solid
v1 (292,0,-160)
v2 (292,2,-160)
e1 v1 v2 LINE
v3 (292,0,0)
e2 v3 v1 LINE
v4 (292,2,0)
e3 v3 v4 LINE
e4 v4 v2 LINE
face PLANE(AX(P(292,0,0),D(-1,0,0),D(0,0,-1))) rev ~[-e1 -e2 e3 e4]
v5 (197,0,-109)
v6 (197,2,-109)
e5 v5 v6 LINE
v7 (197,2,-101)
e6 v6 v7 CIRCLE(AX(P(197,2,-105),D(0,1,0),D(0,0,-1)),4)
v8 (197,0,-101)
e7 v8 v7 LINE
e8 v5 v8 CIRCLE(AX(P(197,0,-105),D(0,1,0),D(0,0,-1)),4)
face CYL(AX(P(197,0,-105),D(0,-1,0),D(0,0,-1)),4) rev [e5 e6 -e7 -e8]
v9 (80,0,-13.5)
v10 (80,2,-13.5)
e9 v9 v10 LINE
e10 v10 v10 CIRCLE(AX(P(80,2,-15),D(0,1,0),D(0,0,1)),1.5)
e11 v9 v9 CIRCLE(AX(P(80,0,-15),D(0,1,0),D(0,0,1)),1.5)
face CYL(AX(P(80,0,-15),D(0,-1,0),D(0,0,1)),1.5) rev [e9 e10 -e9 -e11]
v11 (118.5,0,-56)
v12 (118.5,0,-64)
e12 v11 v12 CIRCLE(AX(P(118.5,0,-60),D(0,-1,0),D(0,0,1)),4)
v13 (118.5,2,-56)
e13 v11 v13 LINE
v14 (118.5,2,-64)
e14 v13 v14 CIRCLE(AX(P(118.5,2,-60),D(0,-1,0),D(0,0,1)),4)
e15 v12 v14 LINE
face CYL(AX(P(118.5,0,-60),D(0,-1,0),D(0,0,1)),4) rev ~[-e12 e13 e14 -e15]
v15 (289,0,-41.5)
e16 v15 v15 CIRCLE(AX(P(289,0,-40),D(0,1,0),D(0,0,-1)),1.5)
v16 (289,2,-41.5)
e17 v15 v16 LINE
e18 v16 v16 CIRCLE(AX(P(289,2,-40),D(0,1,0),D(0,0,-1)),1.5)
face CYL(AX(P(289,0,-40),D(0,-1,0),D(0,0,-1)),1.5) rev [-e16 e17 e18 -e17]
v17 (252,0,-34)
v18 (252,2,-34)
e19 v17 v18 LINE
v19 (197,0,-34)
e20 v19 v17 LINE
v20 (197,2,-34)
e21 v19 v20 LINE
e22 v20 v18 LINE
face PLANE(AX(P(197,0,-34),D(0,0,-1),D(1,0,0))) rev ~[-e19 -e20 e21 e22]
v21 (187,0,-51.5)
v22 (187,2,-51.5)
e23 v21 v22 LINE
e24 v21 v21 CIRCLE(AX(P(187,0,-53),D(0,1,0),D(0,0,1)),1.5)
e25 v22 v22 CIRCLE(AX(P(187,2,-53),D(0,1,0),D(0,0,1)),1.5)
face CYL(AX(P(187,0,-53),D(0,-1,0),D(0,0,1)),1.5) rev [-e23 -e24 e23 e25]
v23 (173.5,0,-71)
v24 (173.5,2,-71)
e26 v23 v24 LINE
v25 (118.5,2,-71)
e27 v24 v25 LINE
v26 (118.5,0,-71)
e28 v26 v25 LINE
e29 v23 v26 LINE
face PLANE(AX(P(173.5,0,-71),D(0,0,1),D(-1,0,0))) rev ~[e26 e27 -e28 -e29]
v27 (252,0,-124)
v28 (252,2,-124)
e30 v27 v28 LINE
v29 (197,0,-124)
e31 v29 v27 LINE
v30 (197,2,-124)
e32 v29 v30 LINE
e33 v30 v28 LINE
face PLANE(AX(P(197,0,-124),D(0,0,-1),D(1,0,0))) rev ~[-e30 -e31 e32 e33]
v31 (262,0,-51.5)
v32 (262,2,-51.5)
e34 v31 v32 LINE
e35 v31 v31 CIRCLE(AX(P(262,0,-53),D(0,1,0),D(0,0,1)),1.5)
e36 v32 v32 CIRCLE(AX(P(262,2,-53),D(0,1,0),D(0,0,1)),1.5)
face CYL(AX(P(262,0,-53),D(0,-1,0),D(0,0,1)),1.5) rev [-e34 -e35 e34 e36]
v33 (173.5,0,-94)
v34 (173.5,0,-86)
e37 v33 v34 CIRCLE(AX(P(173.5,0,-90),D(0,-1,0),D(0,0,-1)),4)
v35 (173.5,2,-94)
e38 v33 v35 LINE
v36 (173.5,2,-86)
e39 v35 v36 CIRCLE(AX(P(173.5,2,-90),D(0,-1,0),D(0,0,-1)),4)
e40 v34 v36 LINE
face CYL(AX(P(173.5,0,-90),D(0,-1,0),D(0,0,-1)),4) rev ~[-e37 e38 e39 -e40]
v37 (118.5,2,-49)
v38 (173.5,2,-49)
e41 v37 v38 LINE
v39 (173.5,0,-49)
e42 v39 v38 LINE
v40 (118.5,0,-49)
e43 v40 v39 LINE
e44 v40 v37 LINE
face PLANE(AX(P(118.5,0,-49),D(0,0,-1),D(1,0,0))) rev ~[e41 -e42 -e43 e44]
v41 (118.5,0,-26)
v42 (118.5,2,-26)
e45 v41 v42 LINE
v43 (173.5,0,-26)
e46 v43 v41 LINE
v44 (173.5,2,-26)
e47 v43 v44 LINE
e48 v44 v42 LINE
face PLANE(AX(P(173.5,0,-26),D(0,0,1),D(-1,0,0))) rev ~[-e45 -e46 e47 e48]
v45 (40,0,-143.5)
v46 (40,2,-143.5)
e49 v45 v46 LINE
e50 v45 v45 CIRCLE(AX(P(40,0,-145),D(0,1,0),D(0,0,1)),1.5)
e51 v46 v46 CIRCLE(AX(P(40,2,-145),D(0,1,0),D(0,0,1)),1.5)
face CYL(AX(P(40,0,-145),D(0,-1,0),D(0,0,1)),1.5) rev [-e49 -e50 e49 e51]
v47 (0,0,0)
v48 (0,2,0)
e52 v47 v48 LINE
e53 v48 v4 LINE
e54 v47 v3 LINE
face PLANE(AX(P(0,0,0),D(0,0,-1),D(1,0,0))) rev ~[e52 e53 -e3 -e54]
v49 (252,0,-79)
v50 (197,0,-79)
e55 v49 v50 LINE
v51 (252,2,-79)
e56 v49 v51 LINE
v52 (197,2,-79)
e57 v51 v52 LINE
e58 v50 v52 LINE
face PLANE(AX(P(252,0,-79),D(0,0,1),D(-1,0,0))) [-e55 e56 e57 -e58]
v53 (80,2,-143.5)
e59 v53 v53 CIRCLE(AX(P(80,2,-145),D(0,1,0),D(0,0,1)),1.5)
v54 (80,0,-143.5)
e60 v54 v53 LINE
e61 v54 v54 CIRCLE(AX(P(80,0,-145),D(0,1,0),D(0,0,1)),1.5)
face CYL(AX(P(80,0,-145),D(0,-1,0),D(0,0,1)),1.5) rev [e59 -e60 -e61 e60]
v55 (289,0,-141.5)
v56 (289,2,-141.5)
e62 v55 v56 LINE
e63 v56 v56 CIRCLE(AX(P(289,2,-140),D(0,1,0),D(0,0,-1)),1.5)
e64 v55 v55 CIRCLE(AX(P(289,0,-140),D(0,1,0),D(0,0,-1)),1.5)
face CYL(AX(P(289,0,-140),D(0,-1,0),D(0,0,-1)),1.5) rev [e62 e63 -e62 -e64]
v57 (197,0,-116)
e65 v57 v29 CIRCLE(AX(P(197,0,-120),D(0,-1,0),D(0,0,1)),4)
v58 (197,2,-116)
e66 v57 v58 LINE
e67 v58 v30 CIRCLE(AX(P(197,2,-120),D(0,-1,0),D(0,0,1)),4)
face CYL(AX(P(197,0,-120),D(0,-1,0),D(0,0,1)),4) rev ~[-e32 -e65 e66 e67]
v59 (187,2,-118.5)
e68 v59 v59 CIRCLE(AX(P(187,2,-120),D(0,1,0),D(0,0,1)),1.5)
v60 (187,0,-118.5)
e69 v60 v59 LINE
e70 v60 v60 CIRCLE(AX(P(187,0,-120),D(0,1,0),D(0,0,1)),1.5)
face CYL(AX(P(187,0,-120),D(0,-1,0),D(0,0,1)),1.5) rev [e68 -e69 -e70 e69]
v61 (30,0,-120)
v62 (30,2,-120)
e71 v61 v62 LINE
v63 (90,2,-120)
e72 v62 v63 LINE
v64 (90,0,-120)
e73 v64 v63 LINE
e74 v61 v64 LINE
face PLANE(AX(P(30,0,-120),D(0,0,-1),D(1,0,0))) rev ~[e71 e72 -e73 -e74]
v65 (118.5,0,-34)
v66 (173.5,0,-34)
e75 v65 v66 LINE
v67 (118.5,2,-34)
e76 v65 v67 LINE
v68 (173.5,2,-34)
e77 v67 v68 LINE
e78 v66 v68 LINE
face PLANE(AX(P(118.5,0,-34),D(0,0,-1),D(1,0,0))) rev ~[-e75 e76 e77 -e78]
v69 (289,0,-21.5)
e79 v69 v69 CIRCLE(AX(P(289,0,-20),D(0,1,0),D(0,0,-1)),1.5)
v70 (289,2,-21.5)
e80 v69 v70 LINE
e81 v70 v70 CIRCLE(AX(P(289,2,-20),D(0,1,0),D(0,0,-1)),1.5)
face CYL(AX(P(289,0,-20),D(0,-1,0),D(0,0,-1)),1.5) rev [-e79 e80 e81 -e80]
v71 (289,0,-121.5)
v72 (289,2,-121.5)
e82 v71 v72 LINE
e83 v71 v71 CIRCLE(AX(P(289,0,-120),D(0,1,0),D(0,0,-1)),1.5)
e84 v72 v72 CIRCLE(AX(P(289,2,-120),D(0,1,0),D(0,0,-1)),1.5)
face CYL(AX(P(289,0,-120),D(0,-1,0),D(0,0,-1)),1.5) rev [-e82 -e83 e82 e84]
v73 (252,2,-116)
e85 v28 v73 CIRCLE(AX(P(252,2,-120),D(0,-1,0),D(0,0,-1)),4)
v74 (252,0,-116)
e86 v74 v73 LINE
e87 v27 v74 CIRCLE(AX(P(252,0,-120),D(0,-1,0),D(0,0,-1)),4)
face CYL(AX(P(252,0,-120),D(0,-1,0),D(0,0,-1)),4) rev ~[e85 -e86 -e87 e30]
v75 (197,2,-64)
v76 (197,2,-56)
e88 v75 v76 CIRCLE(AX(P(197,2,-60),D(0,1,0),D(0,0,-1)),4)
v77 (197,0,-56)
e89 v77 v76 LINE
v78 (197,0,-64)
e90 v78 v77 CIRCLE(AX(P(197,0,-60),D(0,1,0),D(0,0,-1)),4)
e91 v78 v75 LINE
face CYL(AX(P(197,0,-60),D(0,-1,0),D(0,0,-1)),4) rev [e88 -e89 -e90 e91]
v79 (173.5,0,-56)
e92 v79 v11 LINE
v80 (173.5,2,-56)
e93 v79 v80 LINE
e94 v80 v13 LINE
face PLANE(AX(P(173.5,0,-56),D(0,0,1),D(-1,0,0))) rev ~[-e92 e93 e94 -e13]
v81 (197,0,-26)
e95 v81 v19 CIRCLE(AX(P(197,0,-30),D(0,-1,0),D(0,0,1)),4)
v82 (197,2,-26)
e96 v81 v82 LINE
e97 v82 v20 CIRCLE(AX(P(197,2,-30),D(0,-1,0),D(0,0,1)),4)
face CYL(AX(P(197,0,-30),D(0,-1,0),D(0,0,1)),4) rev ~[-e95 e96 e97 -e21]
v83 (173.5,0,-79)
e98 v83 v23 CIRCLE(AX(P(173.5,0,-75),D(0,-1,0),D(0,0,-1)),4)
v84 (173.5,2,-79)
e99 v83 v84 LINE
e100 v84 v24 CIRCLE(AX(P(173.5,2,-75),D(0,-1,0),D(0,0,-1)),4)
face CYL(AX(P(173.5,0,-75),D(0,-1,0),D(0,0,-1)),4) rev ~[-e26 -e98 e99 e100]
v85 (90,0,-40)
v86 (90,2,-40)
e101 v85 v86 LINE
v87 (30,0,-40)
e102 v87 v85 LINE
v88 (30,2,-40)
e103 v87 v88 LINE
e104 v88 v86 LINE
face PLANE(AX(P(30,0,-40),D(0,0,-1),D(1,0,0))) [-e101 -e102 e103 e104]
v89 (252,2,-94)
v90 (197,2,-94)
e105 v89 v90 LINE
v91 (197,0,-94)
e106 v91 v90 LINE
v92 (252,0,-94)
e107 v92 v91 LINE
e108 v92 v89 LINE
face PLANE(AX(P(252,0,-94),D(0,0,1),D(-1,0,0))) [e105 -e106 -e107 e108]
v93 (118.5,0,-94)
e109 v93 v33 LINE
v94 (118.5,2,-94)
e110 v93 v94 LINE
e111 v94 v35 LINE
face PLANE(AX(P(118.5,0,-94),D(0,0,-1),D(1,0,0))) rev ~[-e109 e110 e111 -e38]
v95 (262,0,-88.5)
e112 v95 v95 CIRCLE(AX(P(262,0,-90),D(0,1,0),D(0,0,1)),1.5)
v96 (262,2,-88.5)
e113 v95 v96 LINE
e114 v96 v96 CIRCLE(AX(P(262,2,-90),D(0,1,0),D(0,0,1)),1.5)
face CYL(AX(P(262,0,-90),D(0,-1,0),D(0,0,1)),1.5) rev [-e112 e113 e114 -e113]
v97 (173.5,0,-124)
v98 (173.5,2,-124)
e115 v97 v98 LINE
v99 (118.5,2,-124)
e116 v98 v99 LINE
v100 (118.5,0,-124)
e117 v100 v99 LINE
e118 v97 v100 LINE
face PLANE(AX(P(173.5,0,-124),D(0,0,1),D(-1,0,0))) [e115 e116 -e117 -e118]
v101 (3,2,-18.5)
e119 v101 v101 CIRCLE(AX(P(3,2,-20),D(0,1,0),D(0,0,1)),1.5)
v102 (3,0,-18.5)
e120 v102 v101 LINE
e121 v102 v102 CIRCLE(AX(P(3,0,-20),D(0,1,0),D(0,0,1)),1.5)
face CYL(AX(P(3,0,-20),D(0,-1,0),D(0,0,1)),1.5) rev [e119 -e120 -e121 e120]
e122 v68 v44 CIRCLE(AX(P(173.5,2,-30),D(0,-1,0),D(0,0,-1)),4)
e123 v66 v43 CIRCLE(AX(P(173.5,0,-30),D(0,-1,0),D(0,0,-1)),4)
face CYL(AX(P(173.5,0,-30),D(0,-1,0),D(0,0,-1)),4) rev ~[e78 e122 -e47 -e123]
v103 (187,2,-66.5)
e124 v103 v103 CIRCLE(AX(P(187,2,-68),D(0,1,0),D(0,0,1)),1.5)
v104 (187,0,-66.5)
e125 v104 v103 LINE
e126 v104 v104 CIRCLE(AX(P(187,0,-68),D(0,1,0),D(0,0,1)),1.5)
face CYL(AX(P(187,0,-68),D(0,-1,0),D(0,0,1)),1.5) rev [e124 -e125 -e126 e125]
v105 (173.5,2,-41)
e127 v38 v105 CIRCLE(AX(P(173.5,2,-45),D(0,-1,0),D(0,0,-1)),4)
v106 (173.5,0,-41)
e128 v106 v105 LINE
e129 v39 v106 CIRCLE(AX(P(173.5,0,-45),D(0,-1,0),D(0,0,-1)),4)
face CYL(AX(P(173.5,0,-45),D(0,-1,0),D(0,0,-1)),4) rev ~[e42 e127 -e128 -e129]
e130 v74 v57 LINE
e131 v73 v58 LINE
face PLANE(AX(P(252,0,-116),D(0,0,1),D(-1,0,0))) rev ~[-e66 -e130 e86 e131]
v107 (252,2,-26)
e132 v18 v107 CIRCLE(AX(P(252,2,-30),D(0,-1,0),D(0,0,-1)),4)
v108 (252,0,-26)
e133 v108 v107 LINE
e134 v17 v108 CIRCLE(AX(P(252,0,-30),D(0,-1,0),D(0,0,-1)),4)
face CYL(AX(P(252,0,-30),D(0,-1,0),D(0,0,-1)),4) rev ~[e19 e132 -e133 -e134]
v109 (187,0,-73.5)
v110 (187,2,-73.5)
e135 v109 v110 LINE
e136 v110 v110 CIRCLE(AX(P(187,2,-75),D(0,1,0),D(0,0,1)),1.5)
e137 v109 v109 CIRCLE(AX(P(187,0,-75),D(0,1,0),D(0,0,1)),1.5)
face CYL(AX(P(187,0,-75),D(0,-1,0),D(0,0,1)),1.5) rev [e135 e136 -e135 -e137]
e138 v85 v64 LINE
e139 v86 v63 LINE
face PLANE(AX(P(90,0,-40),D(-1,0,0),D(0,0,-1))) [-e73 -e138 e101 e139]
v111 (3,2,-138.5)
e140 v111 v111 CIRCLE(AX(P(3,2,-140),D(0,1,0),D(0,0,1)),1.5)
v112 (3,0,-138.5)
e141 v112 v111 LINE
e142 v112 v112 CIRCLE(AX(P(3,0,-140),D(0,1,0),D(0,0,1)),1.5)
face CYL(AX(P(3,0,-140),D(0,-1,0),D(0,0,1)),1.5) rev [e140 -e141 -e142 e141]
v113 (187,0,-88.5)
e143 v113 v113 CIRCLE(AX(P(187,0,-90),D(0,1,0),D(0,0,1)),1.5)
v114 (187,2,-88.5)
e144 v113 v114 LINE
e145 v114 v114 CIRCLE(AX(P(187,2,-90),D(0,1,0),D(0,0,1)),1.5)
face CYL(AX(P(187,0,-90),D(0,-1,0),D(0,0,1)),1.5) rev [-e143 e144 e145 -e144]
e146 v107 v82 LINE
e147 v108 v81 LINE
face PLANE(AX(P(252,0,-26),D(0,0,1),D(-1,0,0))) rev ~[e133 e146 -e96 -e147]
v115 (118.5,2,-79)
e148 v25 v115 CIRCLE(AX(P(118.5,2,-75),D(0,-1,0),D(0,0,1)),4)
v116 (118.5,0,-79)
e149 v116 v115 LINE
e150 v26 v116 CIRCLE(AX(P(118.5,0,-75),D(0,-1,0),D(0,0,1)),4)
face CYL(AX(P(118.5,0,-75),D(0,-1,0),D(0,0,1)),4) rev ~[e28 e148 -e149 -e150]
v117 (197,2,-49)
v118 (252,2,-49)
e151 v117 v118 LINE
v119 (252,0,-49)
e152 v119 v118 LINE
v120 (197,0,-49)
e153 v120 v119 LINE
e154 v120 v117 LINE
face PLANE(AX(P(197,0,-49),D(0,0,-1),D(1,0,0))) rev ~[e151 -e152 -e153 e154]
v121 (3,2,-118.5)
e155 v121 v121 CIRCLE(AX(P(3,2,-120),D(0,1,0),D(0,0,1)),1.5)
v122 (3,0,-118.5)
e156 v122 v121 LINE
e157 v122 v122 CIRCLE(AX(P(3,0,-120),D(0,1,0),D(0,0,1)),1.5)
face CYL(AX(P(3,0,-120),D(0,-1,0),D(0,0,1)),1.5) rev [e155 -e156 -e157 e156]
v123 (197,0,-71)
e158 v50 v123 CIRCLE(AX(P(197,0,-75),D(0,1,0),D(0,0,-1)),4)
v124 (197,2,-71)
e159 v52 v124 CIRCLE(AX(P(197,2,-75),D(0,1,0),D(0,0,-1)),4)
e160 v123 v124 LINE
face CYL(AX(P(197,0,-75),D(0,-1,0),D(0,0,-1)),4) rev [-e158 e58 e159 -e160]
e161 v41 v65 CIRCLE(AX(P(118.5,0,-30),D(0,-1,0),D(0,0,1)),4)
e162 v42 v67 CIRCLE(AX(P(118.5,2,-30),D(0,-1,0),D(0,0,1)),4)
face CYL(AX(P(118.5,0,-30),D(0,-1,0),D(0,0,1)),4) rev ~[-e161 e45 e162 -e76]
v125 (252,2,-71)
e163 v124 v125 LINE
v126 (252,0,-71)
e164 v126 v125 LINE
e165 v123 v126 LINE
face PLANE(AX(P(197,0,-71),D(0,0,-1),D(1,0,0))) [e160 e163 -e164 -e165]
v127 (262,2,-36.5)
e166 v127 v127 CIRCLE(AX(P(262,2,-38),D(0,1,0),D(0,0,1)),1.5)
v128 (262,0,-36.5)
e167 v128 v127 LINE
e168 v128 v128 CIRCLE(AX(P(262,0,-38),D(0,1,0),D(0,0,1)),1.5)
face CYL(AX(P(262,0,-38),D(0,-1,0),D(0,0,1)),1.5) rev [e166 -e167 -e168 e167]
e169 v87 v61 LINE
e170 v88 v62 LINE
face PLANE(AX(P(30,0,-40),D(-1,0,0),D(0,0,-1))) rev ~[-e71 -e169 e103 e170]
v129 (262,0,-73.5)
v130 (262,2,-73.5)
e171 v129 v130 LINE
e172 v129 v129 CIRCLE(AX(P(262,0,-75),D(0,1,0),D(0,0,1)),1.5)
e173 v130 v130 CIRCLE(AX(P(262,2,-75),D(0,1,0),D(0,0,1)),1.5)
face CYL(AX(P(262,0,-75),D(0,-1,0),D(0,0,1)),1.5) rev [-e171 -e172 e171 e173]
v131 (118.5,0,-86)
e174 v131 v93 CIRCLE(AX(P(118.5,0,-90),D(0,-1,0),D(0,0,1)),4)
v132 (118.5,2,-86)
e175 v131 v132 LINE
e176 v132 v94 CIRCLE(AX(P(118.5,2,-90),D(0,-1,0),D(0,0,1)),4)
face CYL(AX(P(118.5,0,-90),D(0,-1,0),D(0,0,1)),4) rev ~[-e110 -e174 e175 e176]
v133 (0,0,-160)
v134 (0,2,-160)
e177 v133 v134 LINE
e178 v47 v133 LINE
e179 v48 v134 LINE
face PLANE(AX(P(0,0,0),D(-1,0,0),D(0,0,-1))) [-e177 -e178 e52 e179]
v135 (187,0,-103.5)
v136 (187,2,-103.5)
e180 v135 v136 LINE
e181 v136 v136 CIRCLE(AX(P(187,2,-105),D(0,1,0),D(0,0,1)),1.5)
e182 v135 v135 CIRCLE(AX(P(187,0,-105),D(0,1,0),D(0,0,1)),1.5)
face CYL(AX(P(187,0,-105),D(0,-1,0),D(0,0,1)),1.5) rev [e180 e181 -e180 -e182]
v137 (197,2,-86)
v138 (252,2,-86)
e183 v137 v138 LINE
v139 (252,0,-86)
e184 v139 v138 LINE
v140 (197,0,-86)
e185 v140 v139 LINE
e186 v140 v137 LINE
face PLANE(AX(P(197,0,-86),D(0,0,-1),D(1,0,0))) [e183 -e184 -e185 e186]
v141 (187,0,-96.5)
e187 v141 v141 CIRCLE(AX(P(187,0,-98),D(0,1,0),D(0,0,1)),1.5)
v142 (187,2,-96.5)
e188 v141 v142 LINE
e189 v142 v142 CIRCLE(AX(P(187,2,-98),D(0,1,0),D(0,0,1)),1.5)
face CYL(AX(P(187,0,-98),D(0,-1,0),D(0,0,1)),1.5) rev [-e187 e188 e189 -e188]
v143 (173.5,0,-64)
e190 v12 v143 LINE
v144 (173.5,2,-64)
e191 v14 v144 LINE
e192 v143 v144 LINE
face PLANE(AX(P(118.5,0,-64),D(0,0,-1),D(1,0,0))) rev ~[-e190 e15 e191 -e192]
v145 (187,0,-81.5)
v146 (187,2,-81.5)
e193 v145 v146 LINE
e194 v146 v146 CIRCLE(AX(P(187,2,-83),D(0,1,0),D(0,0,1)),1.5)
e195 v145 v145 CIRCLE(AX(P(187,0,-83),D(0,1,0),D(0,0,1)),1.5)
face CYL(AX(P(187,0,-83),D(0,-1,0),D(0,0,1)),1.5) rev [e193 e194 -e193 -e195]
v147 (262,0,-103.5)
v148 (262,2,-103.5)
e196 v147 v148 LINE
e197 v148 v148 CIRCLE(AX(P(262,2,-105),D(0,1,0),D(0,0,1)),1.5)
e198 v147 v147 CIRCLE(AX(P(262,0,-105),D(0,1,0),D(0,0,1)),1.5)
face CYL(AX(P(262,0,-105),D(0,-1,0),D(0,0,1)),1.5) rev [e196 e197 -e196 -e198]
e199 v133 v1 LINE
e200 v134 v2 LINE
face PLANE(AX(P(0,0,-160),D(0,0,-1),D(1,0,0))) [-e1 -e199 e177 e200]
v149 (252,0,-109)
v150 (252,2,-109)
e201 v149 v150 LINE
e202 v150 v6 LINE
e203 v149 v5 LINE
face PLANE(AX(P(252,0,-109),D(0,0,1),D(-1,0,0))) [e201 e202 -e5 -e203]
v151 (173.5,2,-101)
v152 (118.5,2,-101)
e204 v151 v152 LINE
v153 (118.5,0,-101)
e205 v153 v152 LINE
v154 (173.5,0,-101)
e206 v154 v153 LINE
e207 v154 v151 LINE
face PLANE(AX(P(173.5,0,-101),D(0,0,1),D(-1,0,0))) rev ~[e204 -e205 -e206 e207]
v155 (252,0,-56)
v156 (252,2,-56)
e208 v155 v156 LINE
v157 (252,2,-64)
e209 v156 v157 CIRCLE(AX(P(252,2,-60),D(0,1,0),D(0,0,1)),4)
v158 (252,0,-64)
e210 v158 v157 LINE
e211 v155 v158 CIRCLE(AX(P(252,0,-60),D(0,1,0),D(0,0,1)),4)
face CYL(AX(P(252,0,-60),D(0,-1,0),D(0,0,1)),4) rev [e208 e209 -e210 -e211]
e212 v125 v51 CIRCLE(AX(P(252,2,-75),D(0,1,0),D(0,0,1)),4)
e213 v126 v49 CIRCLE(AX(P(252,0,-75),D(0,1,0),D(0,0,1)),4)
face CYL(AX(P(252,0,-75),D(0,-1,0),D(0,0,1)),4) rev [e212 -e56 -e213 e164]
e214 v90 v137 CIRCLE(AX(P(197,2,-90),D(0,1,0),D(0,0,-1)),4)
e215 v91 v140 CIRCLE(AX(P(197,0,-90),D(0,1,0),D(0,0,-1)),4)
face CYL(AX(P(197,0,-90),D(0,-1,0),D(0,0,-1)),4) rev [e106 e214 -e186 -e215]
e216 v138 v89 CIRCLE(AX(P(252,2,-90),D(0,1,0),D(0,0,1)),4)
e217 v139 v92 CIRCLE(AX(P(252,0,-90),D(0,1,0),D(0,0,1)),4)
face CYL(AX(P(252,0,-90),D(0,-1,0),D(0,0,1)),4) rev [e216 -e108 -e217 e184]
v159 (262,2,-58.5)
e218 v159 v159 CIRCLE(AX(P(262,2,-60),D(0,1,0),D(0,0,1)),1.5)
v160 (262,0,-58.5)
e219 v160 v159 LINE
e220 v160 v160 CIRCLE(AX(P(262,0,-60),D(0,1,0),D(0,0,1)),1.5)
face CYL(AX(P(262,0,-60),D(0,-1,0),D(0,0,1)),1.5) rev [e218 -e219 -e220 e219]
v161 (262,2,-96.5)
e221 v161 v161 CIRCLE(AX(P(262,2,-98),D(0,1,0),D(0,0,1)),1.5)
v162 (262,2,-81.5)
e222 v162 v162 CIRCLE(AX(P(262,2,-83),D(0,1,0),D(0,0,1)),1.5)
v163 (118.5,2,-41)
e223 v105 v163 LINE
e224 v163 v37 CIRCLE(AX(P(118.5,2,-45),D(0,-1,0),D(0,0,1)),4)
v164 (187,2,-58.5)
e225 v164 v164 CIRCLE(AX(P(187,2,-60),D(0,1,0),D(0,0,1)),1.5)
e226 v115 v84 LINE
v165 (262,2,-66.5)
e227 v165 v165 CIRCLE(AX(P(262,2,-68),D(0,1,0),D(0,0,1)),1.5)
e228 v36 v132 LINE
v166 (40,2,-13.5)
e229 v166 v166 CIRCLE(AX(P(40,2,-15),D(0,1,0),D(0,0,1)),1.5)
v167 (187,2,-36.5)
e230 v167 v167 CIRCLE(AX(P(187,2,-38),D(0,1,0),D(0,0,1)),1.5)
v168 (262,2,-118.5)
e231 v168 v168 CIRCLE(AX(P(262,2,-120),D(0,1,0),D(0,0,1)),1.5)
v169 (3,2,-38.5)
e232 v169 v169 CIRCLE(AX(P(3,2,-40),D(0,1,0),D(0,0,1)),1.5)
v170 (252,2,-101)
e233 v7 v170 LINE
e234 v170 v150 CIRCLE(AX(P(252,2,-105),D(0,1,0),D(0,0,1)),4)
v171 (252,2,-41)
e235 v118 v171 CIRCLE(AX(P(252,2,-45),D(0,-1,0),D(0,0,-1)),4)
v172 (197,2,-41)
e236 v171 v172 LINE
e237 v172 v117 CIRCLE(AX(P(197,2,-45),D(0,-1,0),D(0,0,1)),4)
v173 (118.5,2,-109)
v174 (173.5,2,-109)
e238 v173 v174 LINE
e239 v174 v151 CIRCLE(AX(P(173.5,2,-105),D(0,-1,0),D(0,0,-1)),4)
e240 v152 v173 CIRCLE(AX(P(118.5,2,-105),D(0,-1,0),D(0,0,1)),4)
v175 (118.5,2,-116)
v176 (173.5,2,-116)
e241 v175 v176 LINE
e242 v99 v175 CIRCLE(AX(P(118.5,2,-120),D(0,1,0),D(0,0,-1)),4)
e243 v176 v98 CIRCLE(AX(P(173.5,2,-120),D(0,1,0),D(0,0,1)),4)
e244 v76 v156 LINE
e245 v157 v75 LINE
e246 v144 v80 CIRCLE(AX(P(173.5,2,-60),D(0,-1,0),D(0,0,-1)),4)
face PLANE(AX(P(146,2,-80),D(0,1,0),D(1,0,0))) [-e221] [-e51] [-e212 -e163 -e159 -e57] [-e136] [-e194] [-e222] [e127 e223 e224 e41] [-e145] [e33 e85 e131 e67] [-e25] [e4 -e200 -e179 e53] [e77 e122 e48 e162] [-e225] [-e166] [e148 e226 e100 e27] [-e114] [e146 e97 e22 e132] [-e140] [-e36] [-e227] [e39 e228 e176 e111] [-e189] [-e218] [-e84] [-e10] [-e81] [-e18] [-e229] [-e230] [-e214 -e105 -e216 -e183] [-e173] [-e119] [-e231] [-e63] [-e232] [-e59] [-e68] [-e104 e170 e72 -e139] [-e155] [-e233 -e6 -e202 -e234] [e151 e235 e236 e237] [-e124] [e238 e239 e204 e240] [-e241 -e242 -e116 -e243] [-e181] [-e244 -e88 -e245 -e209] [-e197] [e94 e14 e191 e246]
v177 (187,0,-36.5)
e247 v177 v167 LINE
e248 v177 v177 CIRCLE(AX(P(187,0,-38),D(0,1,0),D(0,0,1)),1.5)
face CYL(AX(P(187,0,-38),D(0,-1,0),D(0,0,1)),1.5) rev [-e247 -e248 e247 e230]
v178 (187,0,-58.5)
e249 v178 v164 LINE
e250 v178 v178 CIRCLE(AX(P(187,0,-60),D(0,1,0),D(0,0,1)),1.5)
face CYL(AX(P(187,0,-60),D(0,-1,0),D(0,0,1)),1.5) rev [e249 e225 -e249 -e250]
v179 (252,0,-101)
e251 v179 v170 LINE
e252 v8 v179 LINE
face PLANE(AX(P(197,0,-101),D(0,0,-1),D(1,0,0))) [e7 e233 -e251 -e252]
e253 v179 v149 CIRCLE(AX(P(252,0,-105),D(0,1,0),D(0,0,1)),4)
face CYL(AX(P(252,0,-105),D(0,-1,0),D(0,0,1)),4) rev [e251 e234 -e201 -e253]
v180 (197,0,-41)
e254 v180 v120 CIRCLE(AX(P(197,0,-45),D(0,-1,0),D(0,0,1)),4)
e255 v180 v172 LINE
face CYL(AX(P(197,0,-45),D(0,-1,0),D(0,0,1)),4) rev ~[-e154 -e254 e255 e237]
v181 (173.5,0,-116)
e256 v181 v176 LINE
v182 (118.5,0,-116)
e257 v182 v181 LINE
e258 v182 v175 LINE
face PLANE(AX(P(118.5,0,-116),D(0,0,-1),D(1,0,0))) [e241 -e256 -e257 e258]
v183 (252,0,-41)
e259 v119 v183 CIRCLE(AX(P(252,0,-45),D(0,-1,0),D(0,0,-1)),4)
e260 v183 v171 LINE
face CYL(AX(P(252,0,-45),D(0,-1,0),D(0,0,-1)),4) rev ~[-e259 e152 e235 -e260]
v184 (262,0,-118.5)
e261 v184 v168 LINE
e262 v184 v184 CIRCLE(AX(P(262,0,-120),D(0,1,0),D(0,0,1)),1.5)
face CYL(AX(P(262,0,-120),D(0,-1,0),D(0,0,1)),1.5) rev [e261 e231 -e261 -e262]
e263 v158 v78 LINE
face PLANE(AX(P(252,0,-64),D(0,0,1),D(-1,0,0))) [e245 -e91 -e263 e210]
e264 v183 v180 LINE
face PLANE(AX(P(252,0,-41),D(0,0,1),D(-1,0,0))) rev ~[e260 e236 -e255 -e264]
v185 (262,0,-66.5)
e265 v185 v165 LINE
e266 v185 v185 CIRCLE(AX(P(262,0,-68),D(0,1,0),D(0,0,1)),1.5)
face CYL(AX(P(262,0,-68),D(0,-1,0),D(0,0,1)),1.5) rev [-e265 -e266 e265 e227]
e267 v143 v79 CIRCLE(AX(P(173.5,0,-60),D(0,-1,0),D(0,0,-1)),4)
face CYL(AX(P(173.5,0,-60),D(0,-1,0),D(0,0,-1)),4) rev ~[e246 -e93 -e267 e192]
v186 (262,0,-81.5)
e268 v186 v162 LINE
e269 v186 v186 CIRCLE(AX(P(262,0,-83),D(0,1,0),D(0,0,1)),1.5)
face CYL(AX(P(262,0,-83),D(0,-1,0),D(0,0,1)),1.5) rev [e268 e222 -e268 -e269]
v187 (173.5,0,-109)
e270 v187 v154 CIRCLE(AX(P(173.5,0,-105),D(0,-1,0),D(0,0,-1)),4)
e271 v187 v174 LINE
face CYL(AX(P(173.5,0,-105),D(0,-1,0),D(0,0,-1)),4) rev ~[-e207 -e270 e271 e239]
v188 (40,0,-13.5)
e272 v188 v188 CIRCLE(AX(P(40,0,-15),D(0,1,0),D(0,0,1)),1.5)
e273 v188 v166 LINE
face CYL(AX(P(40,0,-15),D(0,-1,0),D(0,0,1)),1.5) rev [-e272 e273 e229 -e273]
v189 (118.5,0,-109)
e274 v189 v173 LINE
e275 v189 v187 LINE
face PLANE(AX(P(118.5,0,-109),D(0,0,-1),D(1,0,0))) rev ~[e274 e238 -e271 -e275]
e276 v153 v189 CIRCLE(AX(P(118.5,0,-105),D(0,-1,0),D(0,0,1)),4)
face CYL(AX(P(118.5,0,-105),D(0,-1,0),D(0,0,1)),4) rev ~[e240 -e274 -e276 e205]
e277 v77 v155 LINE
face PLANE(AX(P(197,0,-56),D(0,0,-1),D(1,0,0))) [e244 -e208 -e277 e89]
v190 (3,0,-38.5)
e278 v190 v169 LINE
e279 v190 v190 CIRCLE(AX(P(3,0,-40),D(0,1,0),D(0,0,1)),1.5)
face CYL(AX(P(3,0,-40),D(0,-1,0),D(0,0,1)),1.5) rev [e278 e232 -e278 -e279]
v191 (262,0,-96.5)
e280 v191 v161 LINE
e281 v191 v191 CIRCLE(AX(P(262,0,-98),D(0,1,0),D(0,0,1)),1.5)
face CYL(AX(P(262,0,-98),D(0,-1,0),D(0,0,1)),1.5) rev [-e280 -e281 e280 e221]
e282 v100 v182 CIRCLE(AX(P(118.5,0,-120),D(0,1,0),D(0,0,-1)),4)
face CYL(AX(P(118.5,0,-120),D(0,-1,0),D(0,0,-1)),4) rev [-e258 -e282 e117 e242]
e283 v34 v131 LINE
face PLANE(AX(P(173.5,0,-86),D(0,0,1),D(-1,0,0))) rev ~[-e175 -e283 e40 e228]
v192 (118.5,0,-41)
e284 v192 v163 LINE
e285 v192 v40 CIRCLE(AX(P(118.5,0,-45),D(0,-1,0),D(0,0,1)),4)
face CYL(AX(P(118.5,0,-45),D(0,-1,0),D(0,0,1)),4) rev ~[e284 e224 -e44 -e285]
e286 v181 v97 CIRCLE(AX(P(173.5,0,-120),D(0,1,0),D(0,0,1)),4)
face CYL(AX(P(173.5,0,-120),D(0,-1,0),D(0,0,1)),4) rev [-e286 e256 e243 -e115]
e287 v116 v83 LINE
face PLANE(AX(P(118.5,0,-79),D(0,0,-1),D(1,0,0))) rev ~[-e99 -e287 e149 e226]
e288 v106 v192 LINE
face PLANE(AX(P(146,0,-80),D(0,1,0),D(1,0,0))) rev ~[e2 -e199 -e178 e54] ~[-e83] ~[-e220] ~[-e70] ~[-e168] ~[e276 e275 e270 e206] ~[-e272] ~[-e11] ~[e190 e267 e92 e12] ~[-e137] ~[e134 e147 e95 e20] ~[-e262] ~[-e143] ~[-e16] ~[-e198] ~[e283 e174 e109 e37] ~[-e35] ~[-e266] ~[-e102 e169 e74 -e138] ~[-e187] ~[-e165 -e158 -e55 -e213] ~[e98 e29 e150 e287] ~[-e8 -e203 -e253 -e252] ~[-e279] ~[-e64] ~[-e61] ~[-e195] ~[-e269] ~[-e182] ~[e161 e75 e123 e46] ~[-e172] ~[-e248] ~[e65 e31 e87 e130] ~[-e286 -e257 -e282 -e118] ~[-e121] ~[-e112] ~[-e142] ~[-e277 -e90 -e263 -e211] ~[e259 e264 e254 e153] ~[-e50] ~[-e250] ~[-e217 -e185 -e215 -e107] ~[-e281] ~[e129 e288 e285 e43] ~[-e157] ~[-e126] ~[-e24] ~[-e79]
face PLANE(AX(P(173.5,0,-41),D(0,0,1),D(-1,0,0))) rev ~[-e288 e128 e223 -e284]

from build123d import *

# Parameters (mm, degrees)
SKETCH_1_W      = 292
SKETCH_1_H      = 160
SKETCH_1_R      = 1.5
SKETCH_1_W_2    = 60
SKETCH_1_H_2    = 80
EXTRUDE_1_DEPTH = 2


with BuildPart() as part:
    # 草图1 → 凸台-拉伸1 (new body)
    with BuildSketch(Plane(origin=(0, 0, 0), x_dir=(1, 0, 0), z_dir=(0, 1, 0))):
        with Locations((146, 80)):
            Rectangle(SKETCH_1_W, SKETCH_1_H)
        with Locations(Location((3, 140, 0), (0, 0, 270))):
            Circle(SKETCH_1_R, mode=Mode.SUBTRACT)
        with Locations(Location((3, 120, 0), (0, 0, 270))):
            Circle(SKETCH_1_R, mode=Mode.SUBTRACT)
        with Locations(Location((3, 40, 0), (0, 0, 270))):
            Circle(SKETCH_1_R, mode=Mode.SUBTRACT)
        with Locations(Location((3, 20, 0), (0, 0, 270))):
            Circle(SKETCH_1_R, mode=Mode.SUBTRACT)
        with Locations(Location((289, 20, 0), (0, 0, 90))):
            Circle(SKETCH_1_R, mode=Mode.SUBTRACT)
        with Locations(Location((289, 40, 0), (0, 0, 90))):
            Circle(SKETCH_1_R, mode=Mode.SUBTRACT)
        with Locations(Location((289, 120, 0), (0, 0, 90))):
            Circle(SKETCH_1_R, mode=Mode.SUBTRACT)
        with Locations(Location((289, 140, 0), (0, 0, 90))):
            Circle(SKETCH_1_R, mode=Mode.SUBTRACT)
        with Locations(Location((187, 120, 0), (0, 0, 270))):
            Circle(SKETCH_1_R, mode=Mode.SUBTRACT)
        with Locations(Location((262, 120, 0), (0, 0, 270))):
            Circle(SKETCH_1_R, mode=Mode.SUBTRACT)
        with Locations(Location((262, 98, 0), (0, 0, 270))):
            Circle(SKETCH_1_R, mode=Mode.SUBTRACT)
        with Locations(Location((187, 98, 0), (0, 0, 270))):
            Circle(SKETCH_1_R, mode=Mode.SUBTRACT)
        with Locations(Location((187, 105, 0), (0, 0, 270))):
            Circle(SKETCH_1_R, mode=Mode.SUBTRACT)
        with Locations(Location((262, 105, 0), (0, 0, 270))):
            Circle(SKETCH_1_R, mode=Mode.SUBTRACT)
        with Locations(Location((187, 83, 0), (0, 0, 270))):
            Circle(SKETCH_1_R, mode=Mode.SUBTRACT)
        with Locations(Location((262, 83, 0), (0, 0, 270))):
            Circle(SKETCH_1_R, mode=Mode.SUBTRACT)
        with Locations(Location((187, 90, 0), (0, 0, 270))):
            Circle(SKETCH_1_R, mode=Mode.SUBTRACT)
        with Locations(Location((262, 90, 0), (0, 0, 270))):
            Circle(SKETCH_1_R, mode=Mode.SUBTRACT)
        with Locations(Location((187, 68, 0), (0, 0, 270))):
            Circle(SKETCH_1_R, mode=Mode.SUBTRACT)
        with Locations(Location((262, 68, 0), (0, 0, 270))):
            Circle(SKETCH_1_R, mode=Mode.SUBTRACT)
        with Locations(Location((187, 75, 0), (0, 0, 270))):
            Circle(SKETCH_1_R, mode=Mode.SUBTRACT)
        with Locations(Location((262, 75, 0), (0, 0, 270))):
            Circle(SKETCH_1_R, mode=Mode.SUBTRACT)
        with Locations(Location((187, 53, 0), (0, 0, 270))):
            Circle(SKETCH_1_R, mode=Mode.SUBTRACT)
        with Locations(Location((262, 53, 0), (0, 0, 270))):
            Circle(SKETCH_1_R, mode=Mode.SUBTRACT)
        with Locations(Location((187, 60, 0), (0, 0, 270))):
            Circle(SKETCH_1_R, mode=Mode.SUBTRACT)
        with Locations(Location((262, 60, 0), (0, 0, 270))):
            Circle(SKETCH_1_R, mode=Mode.SUBTRACT)
        with Locations(Location((187, 38, 0), (0, 0, 270))):
            Circle(SKETCH_1_R, mode=Mode.SUBTRACT)
        with Locations(Location((262, 38, 0), (0, 0, 270))):
            Circle(SKETCH_1_R, mode=Mode.SUBTRACT)
        with Locations(Location((40, 145, 0), (0, 0, 270))):
            Circle(SKETCH_1_R, mode=Mode.SUBTRACT)
        with Locations(Location((80, 145, 0), (0, 0, 270))):
            Circle(SKETCH_1_R, mode=Mode.SUBTRACT)
        with Locations(Location((40, 15, 0), (0, 0, 270))):
            Circle(SKETCH_1_R, mode=Mode.SUBTRACT)
        with Locations(Location((80, 15, 0), (0, 0, 270))):
            Circle(SKETCH_1_R, mode=Mode.SUBTRACT)
        with Locations((60, 80)):
            Rectangle(SKETCH_1_W_2, SKETCH_1_H_2, mode=Mode.SUBTRACT)
        with BuildLine():
            Line((197, 124), (252, 124))
            ThreePointArc((252, 124), (256, 120), (252, 116))
            Line((252, 116), (197, 116))
            ThreePointArc((197, 116), (193, 120), (197, 124))
        make_face(mode=Mode.SUBTRACT)
        with BuildLine():
            Line((197, 101), (252, 101))
            ThreePointArc((252, 101), (256, 105), (252, 109))
            Line((252, 109), (197, 109))
            ThreePointArc((197, 109), (193, 105), (197, 101))
        make_face(mode=Mode.SUBTRACT)
        with BuildLine():
            Line((197, 86), (252, 86))
            ThreePointArc((252, 86), (256, 90), (252, 94))
            Line((252, 94), (197, 94))
            ThreePointArc((197, 94), (193, 90), (197, 86))
        make_face(mode=Mode.SUBTRACT)
        with BuildLine():
            Line((197, 71), (252, 71))
            ThreePointArc((252, 71), (256, 75), (252, 79))
            Line((252, 79), (197, 79))
            ThreePointArc((197, 79), (193, 75), (197, 71))
        make_face(mode=Mode.SUBTRACT)
        with BuildLine():
            Line((197, 56), (252, 56))
            ThreePointArc((252, 56), (256, 60), (252, 64))
            Line((252, 64), (197, 64))
            ThreePointArc((197, 64), (193, 60), (197, 56))
        make_face(mode=Mode.SUBTRACT)
        with BuildLine():
            Line((197, 49), (252, 49))
            ThreePointArc((252, 49), (256, 45), (252, 41))
            Line((252, 41), (197, 41))
            ThreePointArc((197, 41), (193, 45), (197, 49))
        make_face(mode=Mode.SUBTRACT)
        with BuildLine():
            Line((197, 34), (252, 34))
            ThreePointArc((252, 34), (256, 30), (252, 26))
            Line((252, 26), (197, 26))
            ThreePointArc((197, 26), (193, 30), (197, 34))
        make_face(mode=Mode.SUBTRACT)
        with BuildLine():
            Line((118.5, 116), (173.5, 116))
            ThreePointArc((173.5, 116), (177.5, 120), (173.5, 124))
            Line((173.5, 124), (118.5, 124))
            ThreePointArc((118.5, 124), (114.5, 120), (118.5, 116))
        make_face(mode=Mode.SUBTRACT)
        with BuildLine():
            Line((118.5, 109), (173.5, 109))
            ThreePointArc((173.5, 109), (177.5, 105), (173.5, 101))
            Line((173.5, 101), (118.5, 101))
            ThreePointArc((118.5, 101), (114.5, 105), (118.5, 109))
        make_face(mode=Mode.SUBTRACT)
        with BuildLine():
            Line((118.5, 94), (173.5, 94))
            ThreePointArc((173.5, 94), (177.5, 90), (173.5, 86))
            Line((173.5, 86), (118.5, 86))
            ThreePointArc((118.5, 86), (114.5, 90), (118.5, 94))
        make_face(mode=Mode.SUBTRACT)
        with BuildLine():
            Line((118.5, 79), (173.5, 79))
            ThreePointArc((173.5, 79), (177.5, 75), (173.5, 71))
            Line((173.5, 71), (118.5, 71))
            ThreePointArc((118.5, 71), (114.5, 75), (118.5, 79))
        make_face(mode=Mode.SUBTRACT)
        with BuildLine():
            Line((118.5, 64), (173.5, 64))
            ThreePointArc((173.5, 64), (177.5, 60), (173.5, 56))
            Line((173.5, 56), (118.5, 56))
            ThreePointArc((118.5, 56), (114.5, 60), (118.5, 64))
        make_face(mode=Mode.SUBTRACT)
        with BuildLine():
            Line((118.5, 49), (173.5, 49))
            ThreePointArc((173.5, 49), (177.5, 45), (173.5, 41))
            Line((173.5, 41), (118.5, 41))
            ThreePointArc((118.5, 41), (114.5, 45), (118.5, 49))
        make_face(mode=Mode.SUBTRACT)
        with BuildLine():
            Line((118.5, 34), (173.5, 34))
            ThreePointArc((173.5, 34), (177.5, 30), (173.5, 26))
            Line((173.5, 26), (118.5, 26))
            ThreePointArc((118.5, 26), (114.5, 30), (118.5, 34))
        make_face(mode=Mode.SUBTRACT)
    extrude(amount=EXTRUDE_1_DEPTH)


solid = part.part
